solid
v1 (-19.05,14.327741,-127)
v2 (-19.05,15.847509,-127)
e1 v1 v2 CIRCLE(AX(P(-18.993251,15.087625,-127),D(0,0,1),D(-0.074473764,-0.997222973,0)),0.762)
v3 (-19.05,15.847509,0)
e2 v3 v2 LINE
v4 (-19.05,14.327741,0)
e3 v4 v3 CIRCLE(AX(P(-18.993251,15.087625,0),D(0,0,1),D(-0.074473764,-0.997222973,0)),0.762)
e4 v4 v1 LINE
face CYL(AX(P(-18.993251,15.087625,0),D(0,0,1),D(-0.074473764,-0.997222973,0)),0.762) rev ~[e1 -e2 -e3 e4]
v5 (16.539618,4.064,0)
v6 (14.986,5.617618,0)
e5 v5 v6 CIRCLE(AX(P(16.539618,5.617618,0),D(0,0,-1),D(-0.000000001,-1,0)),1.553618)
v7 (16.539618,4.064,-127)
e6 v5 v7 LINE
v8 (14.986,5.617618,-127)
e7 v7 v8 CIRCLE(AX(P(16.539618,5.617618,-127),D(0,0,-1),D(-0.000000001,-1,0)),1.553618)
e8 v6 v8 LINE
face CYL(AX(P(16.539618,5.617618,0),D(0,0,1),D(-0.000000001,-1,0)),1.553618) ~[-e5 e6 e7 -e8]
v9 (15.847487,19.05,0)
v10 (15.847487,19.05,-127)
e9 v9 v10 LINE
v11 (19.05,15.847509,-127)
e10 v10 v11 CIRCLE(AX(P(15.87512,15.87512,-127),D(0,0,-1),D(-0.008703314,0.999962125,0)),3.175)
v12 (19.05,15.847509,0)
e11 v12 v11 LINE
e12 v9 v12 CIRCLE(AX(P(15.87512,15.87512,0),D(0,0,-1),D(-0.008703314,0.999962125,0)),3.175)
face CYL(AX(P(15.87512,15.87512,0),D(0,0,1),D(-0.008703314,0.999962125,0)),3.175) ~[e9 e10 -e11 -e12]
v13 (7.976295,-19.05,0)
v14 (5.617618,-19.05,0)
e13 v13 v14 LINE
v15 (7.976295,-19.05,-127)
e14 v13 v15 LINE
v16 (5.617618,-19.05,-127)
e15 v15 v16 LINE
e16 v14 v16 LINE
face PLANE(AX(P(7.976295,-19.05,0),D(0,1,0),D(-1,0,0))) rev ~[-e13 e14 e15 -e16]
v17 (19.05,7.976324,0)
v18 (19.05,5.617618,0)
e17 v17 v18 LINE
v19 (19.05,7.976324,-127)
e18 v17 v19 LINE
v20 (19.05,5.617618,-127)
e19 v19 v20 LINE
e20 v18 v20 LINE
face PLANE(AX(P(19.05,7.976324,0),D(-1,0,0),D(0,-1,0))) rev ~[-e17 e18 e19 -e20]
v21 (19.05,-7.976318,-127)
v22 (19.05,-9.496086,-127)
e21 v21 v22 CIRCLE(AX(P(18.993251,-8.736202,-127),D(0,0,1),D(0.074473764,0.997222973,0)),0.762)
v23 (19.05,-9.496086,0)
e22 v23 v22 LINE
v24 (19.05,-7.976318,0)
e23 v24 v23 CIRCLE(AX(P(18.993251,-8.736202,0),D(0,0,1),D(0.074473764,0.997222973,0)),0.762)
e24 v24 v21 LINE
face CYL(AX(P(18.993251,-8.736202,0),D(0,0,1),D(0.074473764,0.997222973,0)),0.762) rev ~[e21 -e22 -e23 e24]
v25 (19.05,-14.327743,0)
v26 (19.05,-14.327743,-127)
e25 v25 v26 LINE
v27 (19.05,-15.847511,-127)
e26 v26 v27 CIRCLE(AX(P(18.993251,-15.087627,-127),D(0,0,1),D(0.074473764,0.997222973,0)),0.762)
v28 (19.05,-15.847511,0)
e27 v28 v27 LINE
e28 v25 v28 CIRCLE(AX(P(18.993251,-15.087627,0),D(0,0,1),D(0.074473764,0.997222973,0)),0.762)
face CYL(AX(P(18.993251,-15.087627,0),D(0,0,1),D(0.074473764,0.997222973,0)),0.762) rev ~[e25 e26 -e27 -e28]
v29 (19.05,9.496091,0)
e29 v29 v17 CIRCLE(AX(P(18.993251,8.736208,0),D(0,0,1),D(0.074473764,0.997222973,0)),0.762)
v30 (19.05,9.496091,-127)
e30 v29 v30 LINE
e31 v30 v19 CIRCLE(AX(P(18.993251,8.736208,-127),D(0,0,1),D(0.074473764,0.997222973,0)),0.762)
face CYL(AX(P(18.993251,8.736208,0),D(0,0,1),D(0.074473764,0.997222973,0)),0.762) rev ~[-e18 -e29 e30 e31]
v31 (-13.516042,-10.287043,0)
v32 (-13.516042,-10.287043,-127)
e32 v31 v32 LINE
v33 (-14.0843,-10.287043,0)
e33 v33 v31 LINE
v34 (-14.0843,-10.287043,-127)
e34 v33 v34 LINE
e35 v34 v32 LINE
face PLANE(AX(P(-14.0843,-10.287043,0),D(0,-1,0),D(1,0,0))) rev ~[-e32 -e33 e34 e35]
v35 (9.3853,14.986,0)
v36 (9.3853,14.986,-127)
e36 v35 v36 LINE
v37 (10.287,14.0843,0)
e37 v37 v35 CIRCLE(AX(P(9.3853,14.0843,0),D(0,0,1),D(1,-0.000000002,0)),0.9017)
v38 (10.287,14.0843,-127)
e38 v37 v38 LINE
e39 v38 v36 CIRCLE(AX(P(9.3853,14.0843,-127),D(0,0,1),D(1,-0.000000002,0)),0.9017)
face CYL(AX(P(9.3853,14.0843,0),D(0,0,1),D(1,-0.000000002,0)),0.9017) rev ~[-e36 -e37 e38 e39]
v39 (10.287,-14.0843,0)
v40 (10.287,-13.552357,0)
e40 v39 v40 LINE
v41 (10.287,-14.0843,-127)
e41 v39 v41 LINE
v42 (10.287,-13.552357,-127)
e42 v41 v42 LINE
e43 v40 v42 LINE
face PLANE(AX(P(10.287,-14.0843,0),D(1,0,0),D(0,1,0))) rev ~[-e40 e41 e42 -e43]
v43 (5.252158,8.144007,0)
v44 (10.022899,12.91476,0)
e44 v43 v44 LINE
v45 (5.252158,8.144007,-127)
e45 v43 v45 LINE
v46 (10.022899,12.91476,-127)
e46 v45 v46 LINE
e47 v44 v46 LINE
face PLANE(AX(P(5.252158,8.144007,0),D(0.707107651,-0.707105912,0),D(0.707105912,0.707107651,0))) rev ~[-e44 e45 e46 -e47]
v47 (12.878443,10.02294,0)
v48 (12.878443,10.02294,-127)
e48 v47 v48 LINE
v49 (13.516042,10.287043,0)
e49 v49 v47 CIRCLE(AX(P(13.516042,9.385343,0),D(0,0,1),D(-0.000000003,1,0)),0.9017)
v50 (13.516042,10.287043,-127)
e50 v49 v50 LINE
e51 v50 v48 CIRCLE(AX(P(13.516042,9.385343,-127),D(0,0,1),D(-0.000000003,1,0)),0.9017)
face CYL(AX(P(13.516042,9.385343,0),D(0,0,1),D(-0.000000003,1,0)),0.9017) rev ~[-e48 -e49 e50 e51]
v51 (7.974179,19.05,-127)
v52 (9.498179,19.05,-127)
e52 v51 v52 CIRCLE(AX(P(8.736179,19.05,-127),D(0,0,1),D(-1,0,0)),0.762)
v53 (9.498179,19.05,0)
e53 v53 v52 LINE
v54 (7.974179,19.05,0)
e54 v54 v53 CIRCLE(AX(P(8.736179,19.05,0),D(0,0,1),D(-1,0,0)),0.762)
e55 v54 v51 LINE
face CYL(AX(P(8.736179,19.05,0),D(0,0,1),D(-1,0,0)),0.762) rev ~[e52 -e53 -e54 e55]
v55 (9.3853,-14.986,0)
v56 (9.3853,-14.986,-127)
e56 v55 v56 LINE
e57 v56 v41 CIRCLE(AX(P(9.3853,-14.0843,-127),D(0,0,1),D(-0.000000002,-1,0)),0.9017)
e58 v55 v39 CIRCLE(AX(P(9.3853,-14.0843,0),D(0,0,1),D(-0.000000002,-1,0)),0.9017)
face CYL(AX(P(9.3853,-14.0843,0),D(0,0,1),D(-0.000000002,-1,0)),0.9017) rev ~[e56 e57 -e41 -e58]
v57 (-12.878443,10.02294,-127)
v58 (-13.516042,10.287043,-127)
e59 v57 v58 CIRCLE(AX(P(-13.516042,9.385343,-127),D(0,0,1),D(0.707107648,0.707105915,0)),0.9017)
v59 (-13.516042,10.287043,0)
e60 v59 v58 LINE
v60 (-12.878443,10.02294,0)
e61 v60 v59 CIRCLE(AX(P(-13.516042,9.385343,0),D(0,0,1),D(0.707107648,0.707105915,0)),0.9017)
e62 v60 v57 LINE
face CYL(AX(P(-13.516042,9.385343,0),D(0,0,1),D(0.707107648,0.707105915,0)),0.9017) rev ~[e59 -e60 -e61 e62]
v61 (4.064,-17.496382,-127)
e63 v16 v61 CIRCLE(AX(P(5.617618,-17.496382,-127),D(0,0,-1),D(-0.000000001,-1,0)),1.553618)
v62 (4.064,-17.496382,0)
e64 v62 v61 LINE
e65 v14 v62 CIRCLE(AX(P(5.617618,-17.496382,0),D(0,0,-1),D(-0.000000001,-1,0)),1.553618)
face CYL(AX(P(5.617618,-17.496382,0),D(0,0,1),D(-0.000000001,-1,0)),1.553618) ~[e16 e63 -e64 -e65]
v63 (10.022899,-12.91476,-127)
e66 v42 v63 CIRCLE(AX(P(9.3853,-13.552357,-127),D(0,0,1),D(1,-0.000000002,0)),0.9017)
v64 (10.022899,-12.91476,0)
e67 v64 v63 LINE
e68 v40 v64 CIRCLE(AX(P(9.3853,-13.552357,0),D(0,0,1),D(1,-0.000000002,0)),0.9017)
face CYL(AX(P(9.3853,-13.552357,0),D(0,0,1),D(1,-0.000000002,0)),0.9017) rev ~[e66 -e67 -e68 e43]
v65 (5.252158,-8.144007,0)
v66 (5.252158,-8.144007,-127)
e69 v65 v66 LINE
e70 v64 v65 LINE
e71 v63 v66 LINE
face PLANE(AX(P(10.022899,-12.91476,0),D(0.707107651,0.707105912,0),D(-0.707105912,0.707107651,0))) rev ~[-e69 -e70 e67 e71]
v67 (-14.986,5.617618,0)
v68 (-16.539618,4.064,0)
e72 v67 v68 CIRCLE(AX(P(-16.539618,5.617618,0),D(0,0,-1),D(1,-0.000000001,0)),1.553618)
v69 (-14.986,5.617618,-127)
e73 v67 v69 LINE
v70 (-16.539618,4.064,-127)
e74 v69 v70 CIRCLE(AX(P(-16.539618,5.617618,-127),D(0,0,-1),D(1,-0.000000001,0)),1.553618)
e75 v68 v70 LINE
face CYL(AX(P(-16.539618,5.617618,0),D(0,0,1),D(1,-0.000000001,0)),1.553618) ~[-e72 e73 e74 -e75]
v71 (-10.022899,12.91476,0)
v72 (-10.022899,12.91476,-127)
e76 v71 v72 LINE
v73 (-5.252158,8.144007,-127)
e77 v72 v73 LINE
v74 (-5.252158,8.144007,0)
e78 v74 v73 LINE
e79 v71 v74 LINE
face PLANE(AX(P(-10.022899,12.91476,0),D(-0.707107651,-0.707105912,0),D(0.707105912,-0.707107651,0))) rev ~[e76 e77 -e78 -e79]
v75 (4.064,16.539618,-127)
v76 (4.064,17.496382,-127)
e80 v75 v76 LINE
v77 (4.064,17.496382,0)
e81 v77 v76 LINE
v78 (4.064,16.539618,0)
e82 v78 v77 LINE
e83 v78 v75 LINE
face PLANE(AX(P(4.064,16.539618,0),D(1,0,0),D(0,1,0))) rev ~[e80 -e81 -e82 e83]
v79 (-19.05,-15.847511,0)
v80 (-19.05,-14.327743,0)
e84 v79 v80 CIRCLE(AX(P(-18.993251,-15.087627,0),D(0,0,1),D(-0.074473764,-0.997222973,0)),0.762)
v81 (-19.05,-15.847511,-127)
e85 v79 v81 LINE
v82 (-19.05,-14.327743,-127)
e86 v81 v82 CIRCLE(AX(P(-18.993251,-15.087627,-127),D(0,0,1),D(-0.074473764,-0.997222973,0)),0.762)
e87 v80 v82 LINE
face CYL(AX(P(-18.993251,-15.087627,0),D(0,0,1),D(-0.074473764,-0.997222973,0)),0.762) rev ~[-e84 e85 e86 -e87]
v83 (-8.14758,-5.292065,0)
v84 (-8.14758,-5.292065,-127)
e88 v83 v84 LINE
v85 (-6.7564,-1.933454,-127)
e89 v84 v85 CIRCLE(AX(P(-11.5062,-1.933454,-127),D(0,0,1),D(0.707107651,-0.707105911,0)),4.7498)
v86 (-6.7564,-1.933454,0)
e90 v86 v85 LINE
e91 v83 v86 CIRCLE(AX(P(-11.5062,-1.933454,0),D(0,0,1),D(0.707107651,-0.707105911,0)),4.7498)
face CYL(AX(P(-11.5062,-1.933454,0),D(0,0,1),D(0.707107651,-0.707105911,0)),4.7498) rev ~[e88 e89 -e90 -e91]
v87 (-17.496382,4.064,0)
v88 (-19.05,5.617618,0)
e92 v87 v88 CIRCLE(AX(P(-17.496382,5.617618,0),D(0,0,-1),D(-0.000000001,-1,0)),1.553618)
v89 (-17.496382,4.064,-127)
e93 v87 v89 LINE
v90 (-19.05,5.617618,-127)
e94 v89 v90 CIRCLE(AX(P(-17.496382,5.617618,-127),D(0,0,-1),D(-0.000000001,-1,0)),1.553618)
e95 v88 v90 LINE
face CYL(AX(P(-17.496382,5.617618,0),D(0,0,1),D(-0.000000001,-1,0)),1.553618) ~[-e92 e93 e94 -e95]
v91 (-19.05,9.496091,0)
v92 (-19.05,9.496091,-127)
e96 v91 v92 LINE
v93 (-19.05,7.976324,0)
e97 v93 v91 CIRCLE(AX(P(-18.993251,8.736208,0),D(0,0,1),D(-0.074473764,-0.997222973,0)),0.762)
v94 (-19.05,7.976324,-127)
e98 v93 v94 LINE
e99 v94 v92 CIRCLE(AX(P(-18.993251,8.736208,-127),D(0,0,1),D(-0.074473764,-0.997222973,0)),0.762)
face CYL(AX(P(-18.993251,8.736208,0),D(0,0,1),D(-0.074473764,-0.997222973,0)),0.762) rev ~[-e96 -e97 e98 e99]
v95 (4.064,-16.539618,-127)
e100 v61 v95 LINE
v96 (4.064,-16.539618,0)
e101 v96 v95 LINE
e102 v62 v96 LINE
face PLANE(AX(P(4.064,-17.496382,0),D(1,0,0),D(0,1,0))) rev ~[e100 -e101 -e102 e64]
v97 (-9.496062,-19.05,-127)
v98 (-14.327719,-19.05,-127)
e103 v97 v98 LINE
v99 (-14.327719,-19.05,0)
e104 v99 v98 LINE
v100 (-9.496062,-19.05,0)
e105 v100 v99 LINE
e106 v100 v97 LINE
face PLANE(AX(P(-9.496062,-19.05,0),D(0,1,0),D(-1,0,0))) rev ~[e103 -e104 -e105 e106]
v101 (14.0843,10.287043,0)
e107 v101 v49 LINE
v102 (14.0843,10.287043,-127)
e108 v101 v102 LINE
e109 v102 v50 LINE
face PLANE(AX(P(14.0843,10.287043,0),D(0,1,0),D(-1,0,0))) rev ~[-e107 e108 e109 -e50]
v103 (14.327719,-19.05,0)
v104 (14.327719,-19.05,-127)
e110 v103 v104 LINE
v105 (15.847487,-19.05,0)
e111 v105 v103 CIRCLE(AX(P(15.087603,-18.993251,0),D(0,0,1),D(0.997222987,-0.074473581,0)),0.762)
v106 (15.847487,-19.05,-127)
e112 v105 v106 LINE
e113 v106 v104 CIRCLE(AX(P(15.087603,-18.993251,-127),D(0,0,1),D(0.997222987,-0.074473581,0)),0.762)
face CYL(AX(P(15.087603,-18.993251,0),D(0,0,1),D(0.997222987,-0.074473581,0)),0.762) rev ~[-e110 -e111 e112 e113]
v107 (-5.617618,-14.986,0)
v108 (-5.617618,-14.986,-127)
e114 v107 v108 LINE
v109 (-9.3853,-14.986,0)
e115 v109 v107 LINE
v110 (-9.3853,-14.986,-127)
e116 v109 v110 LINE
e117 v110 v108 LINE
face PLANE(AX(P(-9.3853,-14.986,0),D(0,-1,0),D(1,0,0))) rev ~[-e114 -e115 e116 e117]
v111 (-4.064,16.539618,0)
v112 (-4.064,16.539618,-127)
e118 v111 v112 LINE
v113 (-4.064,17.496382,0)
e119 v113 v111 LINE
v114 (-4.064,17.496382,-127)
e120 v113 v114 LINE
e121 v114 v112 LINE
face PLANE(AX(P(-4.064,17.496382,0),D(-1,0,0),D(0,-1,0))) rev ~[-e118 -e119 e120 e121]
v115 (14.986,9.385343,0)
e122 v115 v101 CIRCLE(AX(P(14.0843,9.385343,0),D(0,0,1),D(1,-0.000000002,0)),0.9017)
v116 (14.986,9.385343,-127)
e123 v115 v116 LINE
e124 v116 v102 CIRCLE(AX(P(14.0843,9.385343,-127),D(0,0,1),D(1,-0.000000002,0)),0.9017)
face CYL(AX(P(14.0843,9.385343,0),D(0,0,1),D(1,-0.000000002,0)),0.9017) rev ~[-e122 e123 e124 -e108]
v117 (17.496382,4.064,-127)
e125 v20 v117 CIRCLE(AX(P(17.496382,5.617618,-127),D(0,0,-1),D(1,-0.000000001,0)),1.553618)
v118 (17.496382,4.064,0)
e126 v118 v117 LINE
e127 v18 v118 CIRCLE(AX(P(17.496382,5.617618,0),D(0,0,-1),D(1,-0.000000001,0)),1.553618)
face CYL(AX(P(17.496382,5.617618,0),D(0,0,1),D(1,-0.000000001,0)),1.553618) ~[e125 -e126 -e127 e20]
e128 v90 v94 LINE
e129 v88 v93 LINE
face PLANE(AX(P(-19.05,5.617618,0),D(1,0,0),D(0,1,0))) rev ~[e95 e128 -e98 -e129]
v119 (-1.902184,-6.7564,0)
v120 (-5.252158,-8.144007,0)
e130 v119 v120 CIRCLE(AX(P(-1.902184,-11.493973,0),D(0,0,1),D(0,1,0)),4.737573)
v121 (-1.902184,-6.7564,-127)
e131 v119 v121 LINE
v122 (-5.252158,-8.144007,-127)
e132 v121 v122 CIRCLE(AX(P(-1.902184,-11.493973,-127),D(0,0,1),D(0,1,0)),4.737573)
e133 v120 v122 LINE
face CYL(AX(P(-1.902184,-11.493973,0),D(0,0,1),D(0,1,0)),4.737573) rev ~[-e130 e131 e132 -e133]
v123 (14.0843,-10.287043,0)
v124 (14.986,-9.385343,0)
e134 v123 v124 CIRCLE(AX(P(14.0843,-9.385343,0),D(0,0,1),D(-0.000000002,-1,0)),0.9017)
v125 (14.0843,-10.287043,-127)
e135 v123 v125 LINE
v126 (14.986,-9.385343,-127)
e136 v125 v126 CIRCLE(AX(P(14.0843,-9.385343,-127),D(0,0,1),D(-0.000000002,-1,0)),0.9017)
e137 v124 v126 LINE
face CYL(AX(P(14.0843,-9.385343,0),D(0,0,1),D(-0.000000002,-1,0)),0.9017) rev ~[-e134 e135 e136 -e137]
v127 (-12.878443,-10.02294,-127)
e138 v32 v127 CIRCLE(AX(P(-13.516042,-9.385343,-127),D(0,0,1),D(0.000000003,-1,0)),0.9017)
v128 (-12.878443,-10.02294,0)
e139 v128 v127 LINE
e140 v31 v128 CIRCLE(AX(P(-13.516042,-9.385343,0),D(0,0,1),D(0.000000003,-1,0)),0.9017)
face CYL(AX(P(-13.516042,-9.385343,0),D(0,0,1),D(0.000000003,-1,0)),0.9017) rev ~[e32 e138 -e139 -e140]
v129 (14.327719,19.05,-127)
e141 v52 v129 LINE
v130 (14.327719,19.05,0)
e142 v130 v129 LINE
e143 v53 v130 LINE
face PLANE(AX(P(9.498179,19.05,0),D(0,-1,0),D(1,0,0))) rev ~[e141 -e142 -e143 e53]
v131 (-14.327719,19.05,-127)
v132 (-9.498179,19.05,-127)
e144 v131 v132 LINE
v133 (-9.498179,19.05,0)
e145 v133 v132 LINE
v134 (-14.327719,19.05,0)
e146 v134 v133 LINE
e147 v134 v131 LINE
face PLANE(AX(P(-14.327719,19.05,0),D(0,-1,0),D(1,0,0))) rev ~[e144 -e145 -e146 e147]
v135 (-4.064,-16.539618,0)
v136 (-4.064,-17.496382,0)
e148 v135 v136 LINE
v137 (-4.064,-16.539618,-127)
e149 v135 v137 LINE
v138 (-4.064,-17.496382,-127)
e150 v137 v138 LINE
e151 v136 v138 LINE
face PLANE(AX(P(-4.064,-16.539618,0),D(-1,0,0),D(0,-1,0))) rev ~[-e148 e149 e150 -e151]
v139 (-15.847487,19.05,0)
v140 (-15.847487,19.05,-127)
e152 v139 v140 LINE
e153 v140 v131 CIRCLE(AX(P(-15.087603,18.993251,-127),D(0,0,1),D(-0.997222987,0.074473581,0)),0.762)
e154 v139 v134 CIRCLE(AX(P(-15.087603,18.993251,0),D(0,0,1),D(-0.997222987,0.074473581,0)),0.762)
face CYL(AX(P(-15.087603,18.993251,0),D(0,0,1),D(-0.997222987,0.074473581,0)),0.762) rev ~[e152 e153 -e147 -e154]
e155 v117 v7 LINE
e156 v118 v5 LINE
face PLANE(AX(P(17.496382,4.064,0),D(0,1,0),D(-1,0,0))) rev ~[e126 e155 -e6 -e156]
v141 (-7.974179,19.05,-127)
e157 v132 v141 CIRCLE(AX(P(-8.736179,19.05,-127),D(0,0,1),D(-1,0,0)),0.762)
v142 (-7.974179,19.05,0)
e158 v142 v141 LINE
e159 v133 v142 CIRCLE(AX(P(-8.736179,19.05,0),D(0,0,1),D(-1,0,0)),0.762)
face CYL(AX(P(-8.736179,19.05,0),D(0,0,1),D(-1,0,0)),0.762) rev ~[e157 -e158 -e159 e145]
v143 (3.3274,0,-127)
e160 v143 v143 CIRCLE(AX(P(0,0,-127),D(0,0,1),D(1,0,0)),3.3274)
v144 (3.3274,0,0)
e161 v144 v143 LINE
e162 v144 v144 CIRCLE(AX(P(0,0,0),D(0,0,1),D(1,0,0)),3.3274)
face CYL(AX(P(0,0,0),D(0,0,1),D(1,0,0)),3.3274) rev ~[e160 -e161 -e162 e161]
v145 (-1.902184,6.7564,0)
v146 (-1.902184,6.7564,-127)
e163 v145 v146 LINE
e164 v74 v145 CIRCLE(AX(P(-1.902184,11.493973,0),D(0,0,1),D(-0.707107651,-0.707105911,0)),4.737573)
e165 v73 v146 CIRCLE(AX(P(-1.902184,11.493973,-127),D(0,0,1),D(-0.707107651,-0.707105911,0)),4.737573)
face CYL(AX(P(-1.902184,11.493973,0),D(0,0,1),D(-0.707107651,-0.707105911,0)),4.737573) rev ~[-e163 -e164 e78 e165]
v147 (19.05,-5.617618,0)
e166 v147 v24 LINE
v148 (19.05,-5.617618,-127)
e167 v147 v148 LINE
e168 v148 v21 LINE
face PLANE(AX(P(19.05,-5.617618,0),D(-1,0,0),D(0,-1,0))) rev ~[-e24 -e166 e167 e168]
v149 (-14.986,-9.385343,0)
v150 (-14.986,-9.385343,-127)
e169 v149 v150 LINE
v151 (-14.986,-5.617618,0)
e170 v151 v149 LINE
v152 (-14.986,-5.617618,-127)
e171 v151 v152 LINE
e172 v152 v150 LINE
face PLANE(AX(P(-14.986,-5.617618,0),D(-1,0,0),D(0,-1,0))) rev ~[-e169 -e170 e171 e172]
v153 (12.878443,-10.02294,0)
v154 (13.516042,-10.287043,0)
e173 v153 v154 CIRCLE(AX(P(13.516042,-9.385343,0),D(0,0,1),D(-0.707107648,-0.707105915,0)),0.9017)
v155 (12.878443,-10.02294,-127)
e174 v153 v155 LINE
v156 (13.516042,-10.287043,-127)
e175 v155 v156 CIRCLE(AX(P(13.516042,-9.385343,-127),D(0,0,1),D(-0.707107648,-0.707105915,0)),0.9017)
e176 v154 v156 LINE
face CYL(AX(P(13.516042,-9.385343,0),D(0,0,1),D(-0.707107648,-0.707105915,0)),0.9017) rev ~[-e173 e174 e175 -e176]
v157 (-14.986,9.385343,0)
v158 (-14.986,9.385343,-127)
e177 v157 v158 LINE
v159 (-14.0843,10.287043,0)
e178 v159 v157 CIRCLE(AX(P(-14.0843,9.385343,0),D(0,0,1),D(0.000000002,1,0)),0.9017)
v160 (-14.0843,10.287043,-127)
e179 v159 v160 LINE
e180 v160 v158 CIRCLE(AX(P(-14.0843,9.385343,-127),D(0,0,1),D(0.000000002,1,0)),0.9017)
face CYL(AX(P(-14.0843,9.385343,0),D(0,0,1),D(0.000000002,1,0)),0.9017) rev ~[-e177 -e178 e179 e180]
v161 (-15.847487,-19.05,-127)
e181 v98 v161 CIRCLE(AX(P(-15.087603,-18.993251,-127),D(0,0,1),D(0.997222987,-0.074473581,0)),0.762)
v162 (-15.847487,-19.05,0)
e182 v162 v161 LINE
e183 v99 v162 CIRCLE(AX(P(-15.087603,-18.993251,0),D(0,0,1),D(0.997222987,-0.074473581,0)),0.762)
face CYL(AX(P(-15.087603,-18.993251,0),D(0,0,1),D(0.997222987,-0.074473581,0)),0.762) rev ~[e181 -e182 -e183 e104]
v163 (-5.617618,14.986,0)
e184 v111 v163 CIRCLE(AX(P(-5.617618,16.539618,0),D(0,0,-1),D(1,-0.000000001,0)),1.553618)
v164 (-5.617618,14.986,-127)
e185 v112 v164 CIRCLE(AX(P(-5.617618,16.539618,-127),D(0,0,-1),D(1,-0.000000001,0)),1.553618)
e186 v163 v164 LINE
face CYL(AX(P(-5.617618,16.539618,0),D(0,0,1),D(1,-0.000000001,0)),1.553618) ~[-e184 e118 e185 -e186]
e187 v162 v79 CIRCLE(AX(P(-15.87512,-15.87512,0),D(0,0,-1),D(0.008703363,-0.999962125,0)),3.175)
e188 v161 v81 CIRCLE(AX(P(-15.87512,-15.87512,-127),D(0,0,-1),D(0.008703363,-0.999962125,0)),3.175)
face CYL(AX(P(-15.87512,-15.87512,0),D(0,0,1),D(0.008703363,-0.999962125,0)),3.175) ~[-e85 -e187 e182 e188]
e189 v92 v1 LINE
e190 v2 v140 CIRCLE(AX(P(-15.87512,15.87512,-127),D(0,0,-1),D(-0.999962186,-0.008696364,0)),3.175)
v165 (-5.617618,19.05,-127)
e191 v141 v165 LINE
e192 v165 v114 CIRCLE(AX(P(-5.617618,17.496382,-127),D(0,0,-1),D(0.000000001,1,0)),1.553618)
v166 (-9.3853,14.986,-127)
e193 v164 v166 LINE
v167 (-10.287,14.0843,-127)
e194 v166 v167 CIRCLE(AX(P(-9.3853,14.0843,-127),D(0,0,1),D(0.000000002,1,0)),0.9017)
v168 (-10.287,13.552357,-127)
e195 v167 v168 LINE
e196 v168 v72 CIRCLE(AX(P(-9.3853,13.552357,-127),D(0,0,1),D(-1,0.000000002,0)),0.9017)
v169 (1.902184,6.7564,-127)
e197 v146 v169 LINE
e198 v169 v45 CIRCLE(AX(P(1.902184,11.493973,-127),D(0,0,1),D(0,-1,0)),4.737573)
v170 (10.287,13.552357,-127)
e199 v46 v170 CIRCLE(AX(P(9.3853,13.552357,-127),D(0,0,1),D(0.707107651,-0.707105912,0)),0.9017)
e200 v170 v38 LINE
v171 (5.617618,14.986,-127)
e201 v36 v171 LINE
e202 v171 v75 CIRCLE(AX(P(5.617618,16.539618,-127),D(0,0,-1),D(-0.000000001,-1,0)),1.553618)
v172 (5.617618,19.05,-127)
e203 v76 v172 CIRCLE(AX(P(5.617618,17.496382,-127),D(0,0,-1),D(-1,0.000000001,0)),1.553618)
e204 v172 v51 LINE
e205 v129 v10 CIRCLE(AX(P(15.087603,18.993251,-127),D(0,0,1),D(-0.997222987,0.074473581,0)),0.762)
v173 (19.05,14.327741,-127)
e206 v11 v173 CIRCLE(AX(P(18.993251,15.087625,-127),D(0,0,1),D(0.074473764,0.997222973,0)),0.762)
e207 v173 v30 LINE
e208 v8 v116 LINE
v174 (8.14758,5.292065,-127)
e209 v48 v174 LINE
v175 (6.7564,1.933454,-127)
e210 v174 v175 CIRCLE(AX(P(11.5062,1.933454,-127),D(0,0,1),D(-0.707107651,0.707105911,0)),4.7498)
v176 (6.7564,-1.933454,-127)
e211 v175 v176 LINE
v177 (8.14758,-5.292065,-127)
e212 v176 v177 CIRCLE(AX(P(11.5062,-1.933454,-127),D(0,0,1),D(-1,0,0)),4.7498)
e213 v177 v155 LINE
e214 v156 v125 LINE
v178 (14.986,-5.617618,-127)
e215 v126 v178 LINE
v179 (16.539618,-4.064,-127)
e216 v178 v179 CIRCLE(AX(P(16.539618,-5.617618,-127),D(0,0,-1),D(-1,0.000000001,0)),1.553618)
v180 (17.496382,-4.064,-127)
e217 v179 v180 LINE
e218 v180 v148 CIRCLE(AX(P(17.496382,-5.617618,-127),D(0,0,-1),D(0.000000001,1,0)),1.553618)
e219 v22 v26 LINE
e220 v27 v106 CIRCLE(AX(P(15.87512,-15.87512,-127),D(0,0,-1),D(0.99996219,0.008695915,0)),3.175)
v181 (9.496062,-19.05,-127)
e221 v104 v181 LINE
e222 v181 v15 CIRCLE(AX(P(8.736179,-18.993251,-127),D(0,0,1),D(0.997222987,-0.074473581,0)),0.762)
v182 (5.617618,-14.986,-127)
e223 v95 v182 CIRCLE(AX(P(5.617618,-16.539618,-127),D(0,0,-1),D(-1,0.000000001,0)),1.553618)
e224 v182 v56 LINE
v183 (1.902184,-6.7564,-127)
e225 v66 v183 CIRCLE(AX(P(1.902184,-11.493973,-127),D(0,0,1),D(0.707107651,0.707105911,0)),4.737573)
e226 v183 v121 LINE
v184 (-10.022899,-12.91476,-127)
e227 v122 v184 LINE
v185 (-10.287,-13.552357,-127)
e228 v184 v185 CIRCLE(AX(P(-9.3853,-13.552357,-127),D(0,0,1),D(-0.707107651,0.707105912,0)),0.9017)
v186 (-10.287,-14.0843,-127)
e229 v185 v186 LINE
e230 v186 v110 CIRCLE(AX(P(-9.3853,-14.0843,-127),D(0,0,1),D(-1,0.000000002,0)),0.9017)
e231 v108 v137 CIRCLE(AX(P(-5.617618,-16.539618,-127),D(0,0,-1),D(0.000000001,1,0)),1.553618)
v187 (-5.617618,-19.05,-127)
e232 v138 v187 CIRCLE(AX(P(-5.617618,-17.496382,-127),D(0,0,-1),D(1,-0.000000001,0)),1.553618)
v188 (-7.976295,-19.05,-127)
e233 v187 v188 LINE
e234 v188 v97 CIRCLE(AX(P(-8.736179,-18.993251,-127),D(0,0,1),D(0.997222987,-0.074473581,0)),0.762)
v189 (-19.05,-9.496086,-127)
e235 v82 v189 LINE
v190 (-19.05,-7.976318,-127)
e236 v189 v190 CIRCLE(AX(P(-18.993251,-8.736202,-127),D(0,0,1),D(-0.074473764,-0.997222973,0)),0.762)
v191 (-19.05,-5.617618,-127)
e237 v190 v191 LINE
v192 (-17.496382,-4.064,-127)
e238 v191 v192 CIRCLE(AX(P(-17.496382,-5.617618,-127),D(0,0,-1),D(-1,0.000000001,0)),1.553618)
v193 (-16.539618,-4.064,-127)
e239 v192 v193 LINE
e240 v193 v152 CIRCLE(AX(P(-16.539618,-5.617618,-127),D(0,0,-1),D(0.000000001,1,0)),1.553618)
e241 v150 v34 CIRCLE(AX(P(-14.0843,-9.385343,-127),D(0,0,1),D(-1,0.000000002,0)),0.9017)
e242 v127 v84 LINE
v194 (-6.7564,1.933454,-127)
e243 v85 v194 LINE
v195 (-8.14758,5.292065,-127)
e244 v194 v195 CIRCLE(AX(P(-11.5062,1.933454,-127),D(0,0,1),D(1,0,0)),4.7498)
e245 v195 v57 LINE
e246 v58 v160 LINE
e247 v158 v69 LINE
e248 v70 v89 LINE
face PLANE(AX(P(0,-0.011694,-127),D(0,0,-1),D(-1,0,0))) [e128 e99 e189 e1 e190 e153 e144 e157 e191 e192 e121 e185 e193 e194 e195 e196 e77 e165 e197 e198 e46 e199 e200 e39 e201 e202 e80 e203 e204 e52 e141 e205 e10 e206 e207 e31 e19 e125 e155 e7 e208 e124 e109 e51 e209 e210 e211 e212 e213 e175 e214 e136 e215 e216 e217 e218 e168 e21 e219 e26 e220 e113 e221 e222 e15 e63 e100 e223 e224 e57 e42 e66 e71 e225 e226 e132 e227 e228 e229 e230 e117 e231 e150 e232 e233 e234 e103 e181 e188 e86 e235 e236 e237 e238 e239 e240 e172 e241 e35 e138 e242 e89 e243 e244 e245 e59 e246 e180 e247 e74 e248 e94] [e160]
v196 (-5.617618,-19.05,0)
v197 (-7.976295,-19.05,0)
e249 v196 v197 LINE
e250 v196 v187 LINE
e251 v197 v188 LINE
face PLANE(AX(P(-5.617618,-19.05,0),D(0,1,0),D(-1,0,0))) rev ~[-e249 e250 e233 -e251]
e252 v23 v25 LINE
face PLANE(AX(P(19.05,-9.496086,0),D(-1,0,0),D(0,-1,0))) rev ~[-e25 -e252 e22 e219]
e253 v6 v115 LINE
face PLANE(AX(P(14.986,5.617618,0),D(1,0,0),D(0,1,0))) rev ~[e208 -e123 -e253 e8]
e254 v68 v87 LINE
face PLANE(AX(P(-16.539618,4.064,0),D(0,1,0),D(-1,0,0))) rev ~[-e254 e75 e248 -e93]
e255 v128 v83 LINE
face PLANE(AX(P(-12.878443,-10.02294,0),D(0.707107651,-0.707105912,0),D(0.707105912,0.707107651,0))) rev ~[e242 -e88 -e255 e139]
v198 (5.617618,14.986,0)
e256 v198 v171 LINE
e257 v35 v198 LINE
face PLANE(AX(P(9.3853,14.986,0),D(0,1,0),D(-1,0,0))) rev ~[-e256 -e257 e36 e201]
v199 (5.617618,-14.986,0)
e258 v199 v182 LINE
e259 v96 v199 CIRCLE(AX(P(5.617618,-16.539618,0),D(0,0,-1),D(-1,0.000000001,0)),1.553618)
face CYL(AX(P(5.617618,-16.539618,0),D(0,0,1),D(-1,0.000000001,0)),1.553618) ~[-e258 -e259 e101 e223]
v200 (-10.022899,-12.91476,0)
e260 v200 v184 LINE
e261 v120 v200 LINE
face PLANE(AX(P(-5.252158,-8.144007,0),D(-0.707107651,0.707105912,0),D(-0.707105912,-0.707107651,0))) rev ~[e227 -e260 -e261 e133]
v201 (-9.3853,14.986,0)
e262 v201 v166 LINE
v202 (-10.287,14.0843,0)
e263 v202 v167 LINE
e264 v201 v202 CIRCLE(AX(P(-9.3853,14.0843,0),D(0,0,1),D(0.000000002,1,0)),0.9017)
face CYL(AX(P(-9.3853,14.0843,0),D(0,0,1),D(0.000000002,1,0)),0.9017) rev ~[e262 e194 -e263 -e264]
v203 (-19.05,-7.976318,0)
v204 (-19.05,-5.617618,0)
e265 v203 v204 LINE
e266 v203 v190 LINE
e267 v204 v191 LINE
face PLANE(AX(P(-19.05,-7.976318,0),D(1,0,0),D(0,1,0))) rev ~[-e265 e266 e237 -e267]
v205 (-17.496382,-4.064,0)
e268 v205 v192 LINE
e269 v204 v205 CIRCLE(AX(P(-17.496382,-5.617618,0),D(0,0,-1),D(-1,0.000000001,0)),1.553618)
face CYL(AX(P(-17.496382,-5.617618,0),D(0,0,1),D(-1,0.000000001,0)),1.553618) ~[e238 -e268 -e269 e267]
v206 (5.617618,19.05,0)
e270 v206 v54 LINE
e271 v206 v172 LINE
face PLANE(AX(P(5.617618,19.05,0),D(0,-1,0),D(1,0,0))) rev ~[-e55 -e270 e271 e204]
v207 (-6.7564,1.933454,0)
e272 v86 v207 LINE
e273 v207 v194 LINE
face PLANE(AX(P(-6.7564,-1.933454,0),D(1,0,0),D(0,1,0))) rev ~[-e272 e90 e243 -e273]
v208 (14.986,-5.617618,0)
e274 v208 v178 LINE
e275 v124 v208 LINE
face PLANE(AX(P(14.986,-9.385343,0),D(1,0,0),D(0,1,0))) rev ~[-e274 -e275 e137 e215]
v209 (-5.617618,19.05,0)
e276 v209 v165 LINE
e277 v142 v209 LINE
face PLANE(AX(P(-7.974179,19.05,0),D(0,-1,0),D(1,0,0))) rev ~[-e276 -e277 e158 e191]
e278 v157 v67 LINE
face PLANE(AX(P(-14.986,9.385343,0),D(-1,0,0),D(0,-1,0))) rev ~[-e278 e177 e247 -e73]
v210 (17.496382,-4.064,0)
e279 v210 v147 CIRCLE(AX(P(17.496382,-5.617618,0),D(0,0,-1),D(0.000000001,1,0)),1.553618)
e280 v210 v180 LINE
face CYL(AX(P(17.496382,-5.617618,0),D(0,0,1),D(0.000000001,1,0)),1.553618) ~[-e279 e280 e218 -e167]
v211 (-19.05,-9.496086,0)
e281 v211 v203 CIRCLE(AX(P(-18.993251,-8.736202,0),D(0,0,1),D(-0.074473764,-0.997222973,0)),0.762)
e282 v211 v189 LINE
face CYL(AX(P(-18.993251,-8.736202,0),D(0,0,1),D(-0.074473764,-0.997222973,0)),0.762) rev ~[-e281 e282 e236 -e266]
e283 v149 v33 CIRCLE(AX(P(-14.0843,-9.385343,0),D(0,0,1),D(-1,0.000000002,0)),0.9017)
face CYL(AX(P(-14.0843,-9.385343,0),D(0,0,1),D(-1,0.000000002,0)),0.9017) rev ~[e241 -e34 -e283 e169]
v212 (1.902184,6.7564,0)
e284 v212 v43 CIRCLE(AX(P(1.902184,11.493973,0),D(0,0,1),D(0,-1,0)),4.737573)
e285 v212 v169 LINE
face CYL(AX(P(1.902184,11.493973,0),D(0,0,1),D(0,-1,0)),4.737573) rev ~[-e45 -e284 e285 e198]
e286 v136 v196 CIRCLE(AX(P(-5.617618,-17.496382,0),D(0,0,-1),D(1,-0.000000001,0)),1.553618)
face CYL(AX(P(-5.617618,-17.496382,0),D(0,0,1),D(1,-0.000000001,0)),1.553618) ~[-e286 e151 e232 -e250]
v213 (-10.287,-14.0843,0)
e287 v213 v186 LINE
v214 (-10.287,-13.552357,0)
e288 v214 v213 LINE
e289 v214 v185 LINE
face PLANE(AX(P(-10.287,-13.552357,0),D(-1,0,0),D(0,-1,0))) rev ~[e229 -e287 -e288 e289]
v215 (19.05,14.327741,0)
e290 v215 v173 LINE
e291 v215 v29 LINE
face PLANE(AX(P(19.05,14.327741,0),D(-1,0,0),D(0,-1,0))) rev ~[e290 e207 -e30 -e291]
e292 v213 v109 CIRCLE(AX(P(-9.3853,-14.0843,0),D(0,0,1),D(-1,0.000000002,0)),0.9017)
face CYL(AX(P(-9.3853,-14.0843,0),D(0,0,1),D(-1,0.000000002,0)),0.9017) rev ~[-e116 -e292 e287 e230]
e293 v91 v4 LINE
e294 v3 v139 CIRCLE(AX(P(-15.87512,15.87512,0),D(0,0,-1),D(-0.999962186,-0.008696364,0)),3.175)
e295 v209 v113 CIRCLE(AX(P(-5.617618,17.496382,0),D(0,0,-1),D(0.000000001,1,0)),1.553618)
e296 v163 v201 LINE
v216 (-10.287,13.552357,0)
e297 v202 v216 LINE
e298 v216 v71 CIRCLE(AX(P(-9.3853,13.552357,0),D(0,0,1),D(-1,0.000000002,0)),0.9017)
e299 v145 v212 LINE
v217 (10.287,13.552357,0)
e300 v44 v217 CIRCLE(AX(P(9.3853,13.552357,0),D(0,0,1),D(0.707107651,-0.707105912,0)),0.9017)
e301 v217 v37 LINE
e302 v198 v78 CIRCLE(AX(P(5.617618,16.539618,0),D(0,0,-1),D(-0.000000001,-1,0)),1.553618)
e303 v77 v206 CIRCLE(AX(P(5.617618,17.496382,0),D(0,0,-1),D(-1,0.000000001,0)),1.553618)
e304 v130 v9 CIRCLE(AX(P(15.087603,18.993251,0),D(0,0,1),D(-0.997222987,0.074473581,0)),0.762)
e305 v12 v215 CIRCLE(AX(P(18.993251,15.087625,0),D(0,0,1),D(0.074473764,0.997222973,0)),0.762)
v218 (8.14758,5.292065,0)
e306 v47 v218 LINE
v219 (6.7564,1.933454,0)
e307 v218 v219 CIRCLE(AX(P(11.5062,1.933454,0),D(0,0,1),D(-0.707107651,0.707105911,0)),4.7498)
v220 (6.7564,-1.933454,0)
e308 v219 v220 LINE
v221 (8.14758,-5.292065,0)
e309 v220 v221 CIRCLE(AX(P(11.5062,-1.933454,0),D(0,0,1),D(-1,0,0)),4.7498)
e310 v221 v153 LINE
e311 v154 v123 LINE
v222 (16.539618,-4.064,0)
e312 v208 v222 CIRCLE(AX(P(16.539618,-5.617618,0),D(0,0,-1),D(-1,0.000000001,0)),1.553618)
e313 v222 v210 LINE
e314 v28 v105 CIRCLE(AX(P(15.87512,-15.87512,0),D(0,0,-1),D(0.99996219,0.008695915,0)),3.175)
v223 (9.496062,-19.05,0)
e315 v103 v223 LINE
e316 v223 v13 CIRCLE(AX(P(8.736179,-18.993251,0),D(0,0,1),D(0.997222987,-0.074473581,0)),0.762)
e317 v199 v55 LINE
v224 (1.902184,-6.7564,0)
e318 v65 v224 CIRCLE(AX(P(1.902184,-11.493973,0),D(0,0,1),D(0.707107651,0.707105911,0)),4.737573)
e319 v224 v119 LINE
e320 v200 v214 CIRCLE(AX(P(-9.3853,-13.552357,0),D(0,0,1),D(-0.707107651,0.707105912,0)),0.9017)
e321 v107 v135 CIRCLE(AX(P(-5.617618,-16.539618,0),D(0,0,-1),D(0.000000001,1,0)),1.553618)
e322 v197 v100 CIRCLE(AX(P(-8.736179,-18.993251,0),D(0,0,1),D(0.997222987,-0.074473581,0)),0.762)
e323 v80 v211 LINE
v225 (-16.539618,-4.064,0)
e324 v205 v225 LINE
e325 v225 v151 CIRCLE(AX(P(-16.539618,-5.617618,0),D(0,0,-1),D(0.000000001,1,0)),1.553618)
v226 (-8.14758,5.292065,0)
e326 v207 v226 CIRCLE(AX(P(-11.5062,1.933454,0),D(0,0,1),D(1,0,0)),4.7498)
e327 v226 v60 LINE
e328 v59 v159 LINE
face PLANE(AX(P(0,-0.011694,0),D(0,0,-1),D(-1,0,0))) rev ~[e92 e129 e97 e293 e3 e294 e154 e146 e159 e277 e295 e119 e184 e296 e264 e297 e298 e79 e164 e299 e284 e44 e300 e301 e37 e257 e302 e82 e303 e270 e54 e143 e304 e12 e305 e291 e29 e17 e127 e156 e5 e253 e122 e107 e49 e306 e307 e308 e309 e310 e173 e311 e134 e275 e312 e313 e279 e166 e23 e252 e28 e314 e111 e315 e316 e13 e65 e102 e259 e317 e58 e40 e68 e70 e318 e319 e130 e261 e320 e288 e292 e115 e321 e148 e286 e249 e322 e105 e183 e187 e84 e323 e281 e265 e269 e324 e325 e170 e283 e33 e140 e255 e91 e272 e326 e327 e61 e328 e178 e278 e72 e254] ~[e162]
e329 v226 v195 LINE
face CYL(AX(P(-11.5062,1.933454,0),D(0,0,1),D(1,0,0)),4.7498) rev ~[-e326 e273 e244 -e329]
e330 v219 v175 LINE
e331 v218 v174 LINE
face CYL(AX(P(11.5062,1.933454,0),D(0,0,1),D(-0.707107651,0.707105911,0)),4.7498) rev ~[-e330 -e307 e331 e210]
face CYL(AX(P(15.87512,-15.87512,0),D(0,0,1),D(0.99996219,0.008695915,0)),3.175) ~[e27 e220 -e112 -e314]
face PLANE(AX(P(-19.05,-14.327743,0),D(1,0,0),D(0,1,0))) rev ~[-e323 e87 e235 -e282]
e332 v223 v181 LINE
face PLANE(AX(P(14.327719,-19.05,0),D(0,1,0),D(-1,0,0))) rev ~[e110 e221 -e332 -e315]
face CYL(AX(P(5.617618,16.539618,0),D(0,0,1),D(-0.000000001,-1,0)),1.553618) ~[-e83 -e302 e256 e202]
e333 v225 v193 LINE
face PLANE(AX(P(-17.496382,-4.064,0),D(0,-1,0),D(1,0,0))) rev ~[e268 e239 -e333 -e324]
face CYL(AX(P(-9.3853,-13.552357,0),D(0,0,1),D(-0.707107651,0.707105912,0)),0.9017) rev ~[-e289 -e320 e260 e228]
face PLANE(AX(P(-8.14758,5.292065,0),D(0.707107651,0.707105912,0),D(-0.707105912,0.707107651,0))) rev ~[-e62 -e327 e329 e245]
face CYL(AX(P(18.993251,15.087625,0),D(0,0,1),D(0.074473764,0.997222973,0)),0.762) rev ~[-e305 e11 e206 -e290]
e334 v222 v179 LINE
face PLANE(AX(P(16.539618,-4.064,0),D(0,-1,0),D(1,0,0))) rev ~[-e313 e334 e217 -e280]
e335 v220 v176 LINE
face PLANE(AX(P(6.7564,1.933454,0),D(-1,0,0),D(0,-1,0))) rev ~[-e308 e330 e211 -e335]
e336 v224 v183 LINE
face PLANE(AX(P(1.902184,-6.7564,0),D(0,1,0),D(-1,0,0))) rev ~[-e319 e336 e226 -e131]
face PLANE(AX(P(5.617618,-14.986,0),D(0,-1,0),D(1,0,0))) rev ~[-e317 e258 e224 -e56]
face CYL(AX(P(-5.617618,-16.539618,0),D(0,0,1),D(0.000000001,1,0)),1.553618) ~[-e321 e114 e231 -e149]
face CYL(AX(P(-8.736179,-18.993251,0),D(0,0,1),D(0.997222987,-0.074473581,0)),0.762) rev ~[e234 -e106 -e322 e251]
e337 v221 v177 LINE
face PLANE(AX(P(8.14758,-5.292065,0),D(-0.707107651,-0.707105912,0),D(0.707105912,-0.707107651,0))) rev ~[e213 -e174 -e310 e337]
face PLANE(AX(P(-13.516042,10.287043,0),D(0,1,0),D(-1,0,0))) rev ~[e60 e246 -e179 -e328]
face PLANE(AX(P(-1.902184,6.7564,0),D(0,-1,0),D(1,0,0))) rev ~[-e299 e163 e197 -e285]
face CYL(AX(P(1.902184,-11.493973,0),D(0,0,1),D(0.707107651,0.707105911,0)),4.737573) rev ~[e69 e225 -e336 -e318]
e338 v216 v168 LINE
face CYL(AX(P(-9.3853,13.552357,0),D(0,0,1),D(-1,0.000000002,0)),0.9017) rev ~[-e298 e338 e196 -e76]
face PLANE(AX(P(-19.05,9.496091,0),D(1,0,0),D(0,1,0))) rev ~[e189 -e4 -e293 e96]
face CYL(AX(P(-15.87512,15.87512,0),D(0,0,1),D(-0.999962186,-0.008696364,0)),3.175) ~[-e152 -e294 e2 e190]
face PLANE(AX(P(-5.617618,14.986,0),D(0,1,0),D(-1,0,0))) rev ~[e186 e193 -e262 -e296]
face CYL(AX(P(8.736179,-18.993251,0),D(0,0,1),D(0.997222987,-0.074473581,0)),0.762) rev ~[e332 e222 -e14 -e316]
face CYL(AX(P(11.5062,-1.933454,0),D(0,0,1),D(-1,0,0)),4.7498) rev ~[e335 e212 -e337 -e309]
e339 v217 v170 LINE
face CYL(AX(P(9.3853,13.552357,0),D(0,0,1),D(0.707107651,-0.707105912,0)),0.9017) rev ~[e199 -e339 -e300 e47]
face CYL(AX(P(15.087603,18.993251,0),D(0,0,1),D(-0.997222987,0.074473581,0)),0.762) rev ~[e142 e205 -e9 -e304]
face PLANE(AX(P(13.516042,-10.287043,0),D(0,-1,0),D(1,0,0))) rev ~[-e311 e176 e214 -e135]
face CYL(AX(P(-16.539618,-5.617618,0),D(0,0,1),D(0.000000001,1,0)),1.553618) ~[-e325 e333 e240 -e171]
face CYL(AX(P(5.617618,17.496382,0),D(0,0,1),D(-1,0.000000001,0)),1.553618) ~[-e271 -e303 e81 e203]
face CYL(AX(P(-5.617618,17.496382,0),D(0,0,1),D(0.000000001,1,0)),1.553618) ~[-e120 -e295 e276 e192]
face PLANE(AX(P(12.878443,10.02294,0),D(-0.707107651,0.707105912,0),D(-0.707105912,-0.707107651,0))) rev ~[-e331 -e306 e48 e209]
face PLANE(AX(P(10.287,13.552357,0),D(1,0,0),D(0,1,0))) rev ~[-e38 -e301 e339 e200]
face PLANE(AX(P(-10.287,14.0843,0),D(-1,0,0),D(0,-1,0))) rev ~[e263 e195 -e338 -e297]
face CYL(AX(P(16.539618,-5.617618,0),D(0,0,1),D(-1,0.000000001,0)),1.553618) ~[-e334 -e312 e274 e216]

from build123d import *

# Parameters (mm, degrees)
SKETCH1_R      = 3.3274
EXTRUDE1_DEPTH = 127


with BuildPart() as part:
    # Sketch1 → Extrude1 (new body)
    with BuildSketch(Plane.XY):
        with BuildLine():
            Line((-10.022898969, 12.91475973), (-5.252158105, 8.144007132))
            ThreePointArc((-5.252158105, 8.144007132), (-3.715177372, 7.117027388), (-1.902183975, 6.7564))
            Line((-1.902183975, 6.7564), (1.902183975, 6.7564))
            ThreePointArc((1.902183975, 6.7564), (3.715177372, 7.117027388), (5.252158105, 8.144007132))
            Line((5.252158105, 8.144007132), (10.022898969, 12.91475973))
            ThreePointArc((10.022898969, 12.91475973), (10.218362387, 13.207291992), (10.287, 13.552357131))
            Line((10.287, 13.552357131), (10.287, 14.0843))
            ThreePointArc((10.287, 14.0843), (10.022898185, 14.721898185), (9.3853, 14.986))
            Line((9.3853, 14.986), (5.617617549, 14.986))
            ThreePointArc((5.617617549, 14.986), (4.519044045, 15.441044045), (4.064, 16.539617549))
            Line((4.064, 16.539617549), (4.064, 17.496382451))
            ThreePointArc((4.064, 17.496382451), (4.519044045, 18.594955955), (5.617617549, 19.05))
            Line((5.617617549, 19.05), (7.974178704, 19.05))
            ThreePointArc((7.974178704, 19.05), (8.736178704, 18.288), (9.498178704, 19.05))
            Line((9.498178704, 19.05), (14.327719207, 19.05))
            ThreePointArc((14.327719207, 19.05), (15.087603123, 18.231251131), (15.847487039, 19.05))
            ThreePointArc((15.847487039, 19.05), (18.120176289, 18.120192083), (19.05, 15.847509295))
            ThreePointArc((19.05, 15.847509295), (18.231250992, 15.08762539), (19.05, 14.327741484))
            Line((19.05, 14.327741484), (19.05, 9.496091471))
            ThreePointArc((19.05, 9.496091471), (18.231250992, 8.736207565), (19.05, 7.97632366))
            Line((19.05, 7.97632366), (19.05, 5.617617549))
            ThreePointArc((19.05, 5.617617549), (18.594955955, 4.519044045), (17.496382451, 4.064))
            Line((17.496382451, 4.064), (16.539617549, 4.064))
            ThreePointArc((16.539617549, 4.064), (15.441044045, 4.519044045), (14.986, 5.617617549))
            Line((14.986, 5.617617549), (14.986, 9.385342516))
            ThreePointArc((14.986, 9.385342516), (14.721898185, 10.022940701), (14.0843, 10.287042516))
            Line((14.0843, 10.287042516), (13.516042086, 10.287042516))
            ThreePointArc((13.516042086, 10.287042516), (13.170975923, 10.218404478), (12.878443117, 10.022939917))
            Line((12.878443117, 10.022939917), (8.14758008, 5.292065243))
            ThreePointArc((8.14758008, 5.292065243), (7.117955879, 3.751120653), (6.7564, 1.933453584))
            Line((6.7564, 1.933453584), (6.7564, -1.933453584))
            ThreePointArc((6.7564, -1.933453584), (7.117955879, -3.751120653), (8.14758008, -5.292065243))
            Line((8.14758008, -5.292065243), (12.878443117, -10.022939917))
            ThreePointArc((12.878443117, -10.022939917), (13.170975923, -10.218404478), (13.516042086, -10.287042516))
            Line((13.516042086, -10.287042516), (14.0843, -10.287042516))
            ThreePointArc((14.0843, -10.287042516), (14.721898185, -10.022940701), (14.986, -9.385342516))
            Line((14.986, -9.385342516), (14.986, -5.617617549))
            ThreePointArc((14.986, -5.617617549), (15.441044045, -4.519044045), (16.539617549, -4.064))
            Line((16.539617549, -4.064), (17.496382451, -4.064))
            ThreePointArc((17.496382451, -4.064), (18.594955955, -4.519044045), (19.05, -5.617617549))
            Line((19.05, -5.617617549), (19.05, -7.976318491))
            ThreePointArc((19.05, -7.976318491), (18.231250992, -8.736202396), (19.05, -9.496086302))
            Line((19.05, -9.496086302), (19.05, -14.32774291))
            ThreePointArc((19.05, -14.32774291), (18.231250992, -15.087626816), (19.05, -15.847510721))
            ThreePointArc((19.05, -15.847510721), (18.120175716, -18.120192644), (15.847486868, -19.05))
            ThreePointArc((15.847486868, -19.05), (15.087602952, -18.231251131), (14.327719036, -19.05))
            Line((14.327719036, -19.05), (9.496062448, -19.05))
            ThreePointArc((9.496062448, -19.05), (8.736178532, -18.231251131), (7.976294616, -19.05))
            Line((7.976294616, -19.05), (5.617617549, -19.05))
            ThreePointArc((5.617617549, -19.05), (4.519044045, -18.594955955), (4.064, -17.496382451))
            Line((4.064, -17.496382451), (4.064, -16.539617549))
            ThreePointArc((4.064, -16.539617549), (4.519044045, -15.441044045), (5.617617549, -14.986))
            Line((5.617617549, -14.986), (9.3853, -14.986))
            ThreePointArc((9.3853, -14.986), (10.022898185, -14.721898185), (10.287, -14.0843))
            Line((10.287, -14.0843), (10.287, -13.552357131))
            ThreePointArc((10.287, -13.552357131), (10.218362387, -13.207291992), (10.022898969, -12.91475973))
            Line((10.022898969, -12.91475973), (5.252158105, -8.144007132))
            ThreePointArc((5.252158105, -8.144007132), (3.715177372, -7.117027388), (1.902183975, -6.7564))
            Line((1.902183975, -6.7564), (-1.902183975, -6.7564))
            ThreePointArc((-1.902183975, -6.7564), (-3.715177372, -7.117027388), (-5.252158105, -8.144007132))
            Line((-5.252158105, -8.144007132), (-10.022898969, -12.91475973))
            ThreePointArc((-10.022898969, -12.91475973), (-10.218362387, -13.207291992), (-10.287, -13.552357131))
            Line((-10.287, -13.552357131), (-10.287, -14.0843))
            ThreePointArc((-10.287, -14.0843), (-10.022898185, -14.721898185), (-9.3853, -14.986))
            Line((-9.3853, -14.986), (-5.617617549, -14.986))
            ThreePointArc((-5.617617549, -14.986), (-4.519044045, -15.441044045), (-4.064, -16.539617549))
            Line((-4.064, -16.539617549), (-4.064, -17.496382451))
            ThreePointArc((-4.064, -17.496382451), (-4.519044045, -18.594955955), (-5.617617549, -19.05))
            Line((-5.617617549, -19.05), (-7.976294616, -19.05))
            ThreePointArc((-7.976294616, -19.05), (-8.736178532, -18.231251131), (-9.496062448, -19.05))
            Line((-9.496062448, -19.05), (-14.327719036, -19.05))
            ThreePointArc((-14.327719036, -19.05), (-15.087602952, -18.231251131), (-15.847486868, -19.05))
            ThreePointArc((-15.847486868, -19.05), (-18.120175716, -18.120192644), (-19.05, -15.847510721))
            ThreePointArc((-19.05, -15.847510721), (-18.231250992, -15.087626816), (-19.05, -14.32774291))
            Line((-19.05, -14.32774291), (-19.05, -9.496086302))
            ThreePointArc((-19.05, -9.496086302), (-18.231250992, -8.736202396), (-19.05, -7.976318491))
            Line((-19.05, -7.976318491), (-19.05, -5.617617549))
            ThreePointArc((-19.05, -5.617617549), (-18.594955955, -4.519044045), (-17.496382451, -4.064))
            Line((-17.496382451, -4.064), (-16.539617549, -4.064))
            ThreePointArc((-16.539617549, -4.064), (-15.441044045, -4.519044045), (-14.986, -5.617617549))
            Line((-14.986, -5.617617549), (-14.986, -9.385342516))
            ThreePointArc((-14.986, -9.385342516), (-14.721898185, -10.022940701), (-14.0843, -10.287042516))
            Line((-14.0843, -10.287042516), (-13.516042086, -10.287042516))
            ThreePointArc((-13.516042086, -10.287042516), (-13.170975923, -10.218404478), (-12.878443117, -10.022939917))
            Line((-12.878443117, -10.022939917), (-8.14758008, -5.292065243))
            ThreePointArc((-8.14758008, -5.292065243), (-7.117955879, -3.751120653), (-6.7564, -1.933453584))
            Line((-6.7564, -1.933453584), (-6.7564, 1.933453584))
            ThreePointArc((-6.7564, 1.933453584), (-7.117955879, 3.751120653), (-8.14758008, 5.292065243))
            Line((-8.14758008, 5.292065243), (-12.878443117, 10.022939917))
            ThreePointArc((-12.878443117, 10.022939917), (-13.170975923, 10.218404478), (-13.516042086, 10.287042516))
            Line((-13.516042086, 10.287042516), (-14.0843, 10.287042516))
            ThreePointArc((-14.0843, 10.287042516), (-14.721898185, 10.022940701), (-14.986, 9.385342516))
            Line((-14.986, 9.385342516), (-14.986, 5.617617549))
            ThreePointArc((-14.986, 5.617617549), (-15.441044045, 4.519044045), (-16.539617549, 4.064))
            Line((-16.539617549, 4.064), (-17.496382451, 4.064))
            ThreePointArc((-17.496382451, 4.064), (-18.594955955, 4.519044045), (-19.05, 5.617617549))
            Line((-19.05, 5.617617549), (-19.05, 7.97632366))
            ThreePointArc((-19.05, 7.97632366), (-18.231250992, 8.736207565), (-19.05, 9.496091471))
            Line((-19.05, 9.496091471), (-19.05, 14.327741484))
            ThreePointArc((-19.05, 14.327741484), (-18.231250992, 15.08762539), (-19.05, 15.847509295))
            ThreePointArc((-19.05, 15.847509295), (-18.120176289, 18.120192083), (-15.847487039, 19.05))
            ThreePointArc((-15.847487039, 19.05), (-15.087603123, 18.231251131), (-14.327719207, 19.05))
            Line((-14.327719207, 19.05), (-9.498178704, 19.05))
            ThreePointArc((-9.498178704, 19.05), (-8.736178704, 18.288), (-7.974178704, 19.05))
            Line((-7.974178704, 19.05), (-5.617617549, 19.05))
            ThreePointArc((-5.617617549, 19.05), (-4.519044045, 18.594955955), (-4.064, 17.496382451))
            Line((-4.064, 17.496382451), (-4.064, 16.539617549))
            ThreePointArc((-4.064, 16.539617549), (-4.519044045, 15.441044045), (-5.617617549, 14.986))
            Line((-5.617617549, 14.986), (-9.3853, 14.986))
            ThreePointArc((-9.3853, 14.986), (-10.022898185, 14.721898185), (-10.287, 14.0843))
            Line((-10.287, 14.0843), (-10.287, 13.552357131))
            ThreePointArc((-10.287, 13.552357131), (-10.218362387, 13.207291992), (-10.022898969, 12.91475973))
        make_face()
        Circle(SKETCH1_R, mode=Mode.SUBTRACT)
    extrude(amount=-EXTRUDE1_DEPTH)


solid = part.part
